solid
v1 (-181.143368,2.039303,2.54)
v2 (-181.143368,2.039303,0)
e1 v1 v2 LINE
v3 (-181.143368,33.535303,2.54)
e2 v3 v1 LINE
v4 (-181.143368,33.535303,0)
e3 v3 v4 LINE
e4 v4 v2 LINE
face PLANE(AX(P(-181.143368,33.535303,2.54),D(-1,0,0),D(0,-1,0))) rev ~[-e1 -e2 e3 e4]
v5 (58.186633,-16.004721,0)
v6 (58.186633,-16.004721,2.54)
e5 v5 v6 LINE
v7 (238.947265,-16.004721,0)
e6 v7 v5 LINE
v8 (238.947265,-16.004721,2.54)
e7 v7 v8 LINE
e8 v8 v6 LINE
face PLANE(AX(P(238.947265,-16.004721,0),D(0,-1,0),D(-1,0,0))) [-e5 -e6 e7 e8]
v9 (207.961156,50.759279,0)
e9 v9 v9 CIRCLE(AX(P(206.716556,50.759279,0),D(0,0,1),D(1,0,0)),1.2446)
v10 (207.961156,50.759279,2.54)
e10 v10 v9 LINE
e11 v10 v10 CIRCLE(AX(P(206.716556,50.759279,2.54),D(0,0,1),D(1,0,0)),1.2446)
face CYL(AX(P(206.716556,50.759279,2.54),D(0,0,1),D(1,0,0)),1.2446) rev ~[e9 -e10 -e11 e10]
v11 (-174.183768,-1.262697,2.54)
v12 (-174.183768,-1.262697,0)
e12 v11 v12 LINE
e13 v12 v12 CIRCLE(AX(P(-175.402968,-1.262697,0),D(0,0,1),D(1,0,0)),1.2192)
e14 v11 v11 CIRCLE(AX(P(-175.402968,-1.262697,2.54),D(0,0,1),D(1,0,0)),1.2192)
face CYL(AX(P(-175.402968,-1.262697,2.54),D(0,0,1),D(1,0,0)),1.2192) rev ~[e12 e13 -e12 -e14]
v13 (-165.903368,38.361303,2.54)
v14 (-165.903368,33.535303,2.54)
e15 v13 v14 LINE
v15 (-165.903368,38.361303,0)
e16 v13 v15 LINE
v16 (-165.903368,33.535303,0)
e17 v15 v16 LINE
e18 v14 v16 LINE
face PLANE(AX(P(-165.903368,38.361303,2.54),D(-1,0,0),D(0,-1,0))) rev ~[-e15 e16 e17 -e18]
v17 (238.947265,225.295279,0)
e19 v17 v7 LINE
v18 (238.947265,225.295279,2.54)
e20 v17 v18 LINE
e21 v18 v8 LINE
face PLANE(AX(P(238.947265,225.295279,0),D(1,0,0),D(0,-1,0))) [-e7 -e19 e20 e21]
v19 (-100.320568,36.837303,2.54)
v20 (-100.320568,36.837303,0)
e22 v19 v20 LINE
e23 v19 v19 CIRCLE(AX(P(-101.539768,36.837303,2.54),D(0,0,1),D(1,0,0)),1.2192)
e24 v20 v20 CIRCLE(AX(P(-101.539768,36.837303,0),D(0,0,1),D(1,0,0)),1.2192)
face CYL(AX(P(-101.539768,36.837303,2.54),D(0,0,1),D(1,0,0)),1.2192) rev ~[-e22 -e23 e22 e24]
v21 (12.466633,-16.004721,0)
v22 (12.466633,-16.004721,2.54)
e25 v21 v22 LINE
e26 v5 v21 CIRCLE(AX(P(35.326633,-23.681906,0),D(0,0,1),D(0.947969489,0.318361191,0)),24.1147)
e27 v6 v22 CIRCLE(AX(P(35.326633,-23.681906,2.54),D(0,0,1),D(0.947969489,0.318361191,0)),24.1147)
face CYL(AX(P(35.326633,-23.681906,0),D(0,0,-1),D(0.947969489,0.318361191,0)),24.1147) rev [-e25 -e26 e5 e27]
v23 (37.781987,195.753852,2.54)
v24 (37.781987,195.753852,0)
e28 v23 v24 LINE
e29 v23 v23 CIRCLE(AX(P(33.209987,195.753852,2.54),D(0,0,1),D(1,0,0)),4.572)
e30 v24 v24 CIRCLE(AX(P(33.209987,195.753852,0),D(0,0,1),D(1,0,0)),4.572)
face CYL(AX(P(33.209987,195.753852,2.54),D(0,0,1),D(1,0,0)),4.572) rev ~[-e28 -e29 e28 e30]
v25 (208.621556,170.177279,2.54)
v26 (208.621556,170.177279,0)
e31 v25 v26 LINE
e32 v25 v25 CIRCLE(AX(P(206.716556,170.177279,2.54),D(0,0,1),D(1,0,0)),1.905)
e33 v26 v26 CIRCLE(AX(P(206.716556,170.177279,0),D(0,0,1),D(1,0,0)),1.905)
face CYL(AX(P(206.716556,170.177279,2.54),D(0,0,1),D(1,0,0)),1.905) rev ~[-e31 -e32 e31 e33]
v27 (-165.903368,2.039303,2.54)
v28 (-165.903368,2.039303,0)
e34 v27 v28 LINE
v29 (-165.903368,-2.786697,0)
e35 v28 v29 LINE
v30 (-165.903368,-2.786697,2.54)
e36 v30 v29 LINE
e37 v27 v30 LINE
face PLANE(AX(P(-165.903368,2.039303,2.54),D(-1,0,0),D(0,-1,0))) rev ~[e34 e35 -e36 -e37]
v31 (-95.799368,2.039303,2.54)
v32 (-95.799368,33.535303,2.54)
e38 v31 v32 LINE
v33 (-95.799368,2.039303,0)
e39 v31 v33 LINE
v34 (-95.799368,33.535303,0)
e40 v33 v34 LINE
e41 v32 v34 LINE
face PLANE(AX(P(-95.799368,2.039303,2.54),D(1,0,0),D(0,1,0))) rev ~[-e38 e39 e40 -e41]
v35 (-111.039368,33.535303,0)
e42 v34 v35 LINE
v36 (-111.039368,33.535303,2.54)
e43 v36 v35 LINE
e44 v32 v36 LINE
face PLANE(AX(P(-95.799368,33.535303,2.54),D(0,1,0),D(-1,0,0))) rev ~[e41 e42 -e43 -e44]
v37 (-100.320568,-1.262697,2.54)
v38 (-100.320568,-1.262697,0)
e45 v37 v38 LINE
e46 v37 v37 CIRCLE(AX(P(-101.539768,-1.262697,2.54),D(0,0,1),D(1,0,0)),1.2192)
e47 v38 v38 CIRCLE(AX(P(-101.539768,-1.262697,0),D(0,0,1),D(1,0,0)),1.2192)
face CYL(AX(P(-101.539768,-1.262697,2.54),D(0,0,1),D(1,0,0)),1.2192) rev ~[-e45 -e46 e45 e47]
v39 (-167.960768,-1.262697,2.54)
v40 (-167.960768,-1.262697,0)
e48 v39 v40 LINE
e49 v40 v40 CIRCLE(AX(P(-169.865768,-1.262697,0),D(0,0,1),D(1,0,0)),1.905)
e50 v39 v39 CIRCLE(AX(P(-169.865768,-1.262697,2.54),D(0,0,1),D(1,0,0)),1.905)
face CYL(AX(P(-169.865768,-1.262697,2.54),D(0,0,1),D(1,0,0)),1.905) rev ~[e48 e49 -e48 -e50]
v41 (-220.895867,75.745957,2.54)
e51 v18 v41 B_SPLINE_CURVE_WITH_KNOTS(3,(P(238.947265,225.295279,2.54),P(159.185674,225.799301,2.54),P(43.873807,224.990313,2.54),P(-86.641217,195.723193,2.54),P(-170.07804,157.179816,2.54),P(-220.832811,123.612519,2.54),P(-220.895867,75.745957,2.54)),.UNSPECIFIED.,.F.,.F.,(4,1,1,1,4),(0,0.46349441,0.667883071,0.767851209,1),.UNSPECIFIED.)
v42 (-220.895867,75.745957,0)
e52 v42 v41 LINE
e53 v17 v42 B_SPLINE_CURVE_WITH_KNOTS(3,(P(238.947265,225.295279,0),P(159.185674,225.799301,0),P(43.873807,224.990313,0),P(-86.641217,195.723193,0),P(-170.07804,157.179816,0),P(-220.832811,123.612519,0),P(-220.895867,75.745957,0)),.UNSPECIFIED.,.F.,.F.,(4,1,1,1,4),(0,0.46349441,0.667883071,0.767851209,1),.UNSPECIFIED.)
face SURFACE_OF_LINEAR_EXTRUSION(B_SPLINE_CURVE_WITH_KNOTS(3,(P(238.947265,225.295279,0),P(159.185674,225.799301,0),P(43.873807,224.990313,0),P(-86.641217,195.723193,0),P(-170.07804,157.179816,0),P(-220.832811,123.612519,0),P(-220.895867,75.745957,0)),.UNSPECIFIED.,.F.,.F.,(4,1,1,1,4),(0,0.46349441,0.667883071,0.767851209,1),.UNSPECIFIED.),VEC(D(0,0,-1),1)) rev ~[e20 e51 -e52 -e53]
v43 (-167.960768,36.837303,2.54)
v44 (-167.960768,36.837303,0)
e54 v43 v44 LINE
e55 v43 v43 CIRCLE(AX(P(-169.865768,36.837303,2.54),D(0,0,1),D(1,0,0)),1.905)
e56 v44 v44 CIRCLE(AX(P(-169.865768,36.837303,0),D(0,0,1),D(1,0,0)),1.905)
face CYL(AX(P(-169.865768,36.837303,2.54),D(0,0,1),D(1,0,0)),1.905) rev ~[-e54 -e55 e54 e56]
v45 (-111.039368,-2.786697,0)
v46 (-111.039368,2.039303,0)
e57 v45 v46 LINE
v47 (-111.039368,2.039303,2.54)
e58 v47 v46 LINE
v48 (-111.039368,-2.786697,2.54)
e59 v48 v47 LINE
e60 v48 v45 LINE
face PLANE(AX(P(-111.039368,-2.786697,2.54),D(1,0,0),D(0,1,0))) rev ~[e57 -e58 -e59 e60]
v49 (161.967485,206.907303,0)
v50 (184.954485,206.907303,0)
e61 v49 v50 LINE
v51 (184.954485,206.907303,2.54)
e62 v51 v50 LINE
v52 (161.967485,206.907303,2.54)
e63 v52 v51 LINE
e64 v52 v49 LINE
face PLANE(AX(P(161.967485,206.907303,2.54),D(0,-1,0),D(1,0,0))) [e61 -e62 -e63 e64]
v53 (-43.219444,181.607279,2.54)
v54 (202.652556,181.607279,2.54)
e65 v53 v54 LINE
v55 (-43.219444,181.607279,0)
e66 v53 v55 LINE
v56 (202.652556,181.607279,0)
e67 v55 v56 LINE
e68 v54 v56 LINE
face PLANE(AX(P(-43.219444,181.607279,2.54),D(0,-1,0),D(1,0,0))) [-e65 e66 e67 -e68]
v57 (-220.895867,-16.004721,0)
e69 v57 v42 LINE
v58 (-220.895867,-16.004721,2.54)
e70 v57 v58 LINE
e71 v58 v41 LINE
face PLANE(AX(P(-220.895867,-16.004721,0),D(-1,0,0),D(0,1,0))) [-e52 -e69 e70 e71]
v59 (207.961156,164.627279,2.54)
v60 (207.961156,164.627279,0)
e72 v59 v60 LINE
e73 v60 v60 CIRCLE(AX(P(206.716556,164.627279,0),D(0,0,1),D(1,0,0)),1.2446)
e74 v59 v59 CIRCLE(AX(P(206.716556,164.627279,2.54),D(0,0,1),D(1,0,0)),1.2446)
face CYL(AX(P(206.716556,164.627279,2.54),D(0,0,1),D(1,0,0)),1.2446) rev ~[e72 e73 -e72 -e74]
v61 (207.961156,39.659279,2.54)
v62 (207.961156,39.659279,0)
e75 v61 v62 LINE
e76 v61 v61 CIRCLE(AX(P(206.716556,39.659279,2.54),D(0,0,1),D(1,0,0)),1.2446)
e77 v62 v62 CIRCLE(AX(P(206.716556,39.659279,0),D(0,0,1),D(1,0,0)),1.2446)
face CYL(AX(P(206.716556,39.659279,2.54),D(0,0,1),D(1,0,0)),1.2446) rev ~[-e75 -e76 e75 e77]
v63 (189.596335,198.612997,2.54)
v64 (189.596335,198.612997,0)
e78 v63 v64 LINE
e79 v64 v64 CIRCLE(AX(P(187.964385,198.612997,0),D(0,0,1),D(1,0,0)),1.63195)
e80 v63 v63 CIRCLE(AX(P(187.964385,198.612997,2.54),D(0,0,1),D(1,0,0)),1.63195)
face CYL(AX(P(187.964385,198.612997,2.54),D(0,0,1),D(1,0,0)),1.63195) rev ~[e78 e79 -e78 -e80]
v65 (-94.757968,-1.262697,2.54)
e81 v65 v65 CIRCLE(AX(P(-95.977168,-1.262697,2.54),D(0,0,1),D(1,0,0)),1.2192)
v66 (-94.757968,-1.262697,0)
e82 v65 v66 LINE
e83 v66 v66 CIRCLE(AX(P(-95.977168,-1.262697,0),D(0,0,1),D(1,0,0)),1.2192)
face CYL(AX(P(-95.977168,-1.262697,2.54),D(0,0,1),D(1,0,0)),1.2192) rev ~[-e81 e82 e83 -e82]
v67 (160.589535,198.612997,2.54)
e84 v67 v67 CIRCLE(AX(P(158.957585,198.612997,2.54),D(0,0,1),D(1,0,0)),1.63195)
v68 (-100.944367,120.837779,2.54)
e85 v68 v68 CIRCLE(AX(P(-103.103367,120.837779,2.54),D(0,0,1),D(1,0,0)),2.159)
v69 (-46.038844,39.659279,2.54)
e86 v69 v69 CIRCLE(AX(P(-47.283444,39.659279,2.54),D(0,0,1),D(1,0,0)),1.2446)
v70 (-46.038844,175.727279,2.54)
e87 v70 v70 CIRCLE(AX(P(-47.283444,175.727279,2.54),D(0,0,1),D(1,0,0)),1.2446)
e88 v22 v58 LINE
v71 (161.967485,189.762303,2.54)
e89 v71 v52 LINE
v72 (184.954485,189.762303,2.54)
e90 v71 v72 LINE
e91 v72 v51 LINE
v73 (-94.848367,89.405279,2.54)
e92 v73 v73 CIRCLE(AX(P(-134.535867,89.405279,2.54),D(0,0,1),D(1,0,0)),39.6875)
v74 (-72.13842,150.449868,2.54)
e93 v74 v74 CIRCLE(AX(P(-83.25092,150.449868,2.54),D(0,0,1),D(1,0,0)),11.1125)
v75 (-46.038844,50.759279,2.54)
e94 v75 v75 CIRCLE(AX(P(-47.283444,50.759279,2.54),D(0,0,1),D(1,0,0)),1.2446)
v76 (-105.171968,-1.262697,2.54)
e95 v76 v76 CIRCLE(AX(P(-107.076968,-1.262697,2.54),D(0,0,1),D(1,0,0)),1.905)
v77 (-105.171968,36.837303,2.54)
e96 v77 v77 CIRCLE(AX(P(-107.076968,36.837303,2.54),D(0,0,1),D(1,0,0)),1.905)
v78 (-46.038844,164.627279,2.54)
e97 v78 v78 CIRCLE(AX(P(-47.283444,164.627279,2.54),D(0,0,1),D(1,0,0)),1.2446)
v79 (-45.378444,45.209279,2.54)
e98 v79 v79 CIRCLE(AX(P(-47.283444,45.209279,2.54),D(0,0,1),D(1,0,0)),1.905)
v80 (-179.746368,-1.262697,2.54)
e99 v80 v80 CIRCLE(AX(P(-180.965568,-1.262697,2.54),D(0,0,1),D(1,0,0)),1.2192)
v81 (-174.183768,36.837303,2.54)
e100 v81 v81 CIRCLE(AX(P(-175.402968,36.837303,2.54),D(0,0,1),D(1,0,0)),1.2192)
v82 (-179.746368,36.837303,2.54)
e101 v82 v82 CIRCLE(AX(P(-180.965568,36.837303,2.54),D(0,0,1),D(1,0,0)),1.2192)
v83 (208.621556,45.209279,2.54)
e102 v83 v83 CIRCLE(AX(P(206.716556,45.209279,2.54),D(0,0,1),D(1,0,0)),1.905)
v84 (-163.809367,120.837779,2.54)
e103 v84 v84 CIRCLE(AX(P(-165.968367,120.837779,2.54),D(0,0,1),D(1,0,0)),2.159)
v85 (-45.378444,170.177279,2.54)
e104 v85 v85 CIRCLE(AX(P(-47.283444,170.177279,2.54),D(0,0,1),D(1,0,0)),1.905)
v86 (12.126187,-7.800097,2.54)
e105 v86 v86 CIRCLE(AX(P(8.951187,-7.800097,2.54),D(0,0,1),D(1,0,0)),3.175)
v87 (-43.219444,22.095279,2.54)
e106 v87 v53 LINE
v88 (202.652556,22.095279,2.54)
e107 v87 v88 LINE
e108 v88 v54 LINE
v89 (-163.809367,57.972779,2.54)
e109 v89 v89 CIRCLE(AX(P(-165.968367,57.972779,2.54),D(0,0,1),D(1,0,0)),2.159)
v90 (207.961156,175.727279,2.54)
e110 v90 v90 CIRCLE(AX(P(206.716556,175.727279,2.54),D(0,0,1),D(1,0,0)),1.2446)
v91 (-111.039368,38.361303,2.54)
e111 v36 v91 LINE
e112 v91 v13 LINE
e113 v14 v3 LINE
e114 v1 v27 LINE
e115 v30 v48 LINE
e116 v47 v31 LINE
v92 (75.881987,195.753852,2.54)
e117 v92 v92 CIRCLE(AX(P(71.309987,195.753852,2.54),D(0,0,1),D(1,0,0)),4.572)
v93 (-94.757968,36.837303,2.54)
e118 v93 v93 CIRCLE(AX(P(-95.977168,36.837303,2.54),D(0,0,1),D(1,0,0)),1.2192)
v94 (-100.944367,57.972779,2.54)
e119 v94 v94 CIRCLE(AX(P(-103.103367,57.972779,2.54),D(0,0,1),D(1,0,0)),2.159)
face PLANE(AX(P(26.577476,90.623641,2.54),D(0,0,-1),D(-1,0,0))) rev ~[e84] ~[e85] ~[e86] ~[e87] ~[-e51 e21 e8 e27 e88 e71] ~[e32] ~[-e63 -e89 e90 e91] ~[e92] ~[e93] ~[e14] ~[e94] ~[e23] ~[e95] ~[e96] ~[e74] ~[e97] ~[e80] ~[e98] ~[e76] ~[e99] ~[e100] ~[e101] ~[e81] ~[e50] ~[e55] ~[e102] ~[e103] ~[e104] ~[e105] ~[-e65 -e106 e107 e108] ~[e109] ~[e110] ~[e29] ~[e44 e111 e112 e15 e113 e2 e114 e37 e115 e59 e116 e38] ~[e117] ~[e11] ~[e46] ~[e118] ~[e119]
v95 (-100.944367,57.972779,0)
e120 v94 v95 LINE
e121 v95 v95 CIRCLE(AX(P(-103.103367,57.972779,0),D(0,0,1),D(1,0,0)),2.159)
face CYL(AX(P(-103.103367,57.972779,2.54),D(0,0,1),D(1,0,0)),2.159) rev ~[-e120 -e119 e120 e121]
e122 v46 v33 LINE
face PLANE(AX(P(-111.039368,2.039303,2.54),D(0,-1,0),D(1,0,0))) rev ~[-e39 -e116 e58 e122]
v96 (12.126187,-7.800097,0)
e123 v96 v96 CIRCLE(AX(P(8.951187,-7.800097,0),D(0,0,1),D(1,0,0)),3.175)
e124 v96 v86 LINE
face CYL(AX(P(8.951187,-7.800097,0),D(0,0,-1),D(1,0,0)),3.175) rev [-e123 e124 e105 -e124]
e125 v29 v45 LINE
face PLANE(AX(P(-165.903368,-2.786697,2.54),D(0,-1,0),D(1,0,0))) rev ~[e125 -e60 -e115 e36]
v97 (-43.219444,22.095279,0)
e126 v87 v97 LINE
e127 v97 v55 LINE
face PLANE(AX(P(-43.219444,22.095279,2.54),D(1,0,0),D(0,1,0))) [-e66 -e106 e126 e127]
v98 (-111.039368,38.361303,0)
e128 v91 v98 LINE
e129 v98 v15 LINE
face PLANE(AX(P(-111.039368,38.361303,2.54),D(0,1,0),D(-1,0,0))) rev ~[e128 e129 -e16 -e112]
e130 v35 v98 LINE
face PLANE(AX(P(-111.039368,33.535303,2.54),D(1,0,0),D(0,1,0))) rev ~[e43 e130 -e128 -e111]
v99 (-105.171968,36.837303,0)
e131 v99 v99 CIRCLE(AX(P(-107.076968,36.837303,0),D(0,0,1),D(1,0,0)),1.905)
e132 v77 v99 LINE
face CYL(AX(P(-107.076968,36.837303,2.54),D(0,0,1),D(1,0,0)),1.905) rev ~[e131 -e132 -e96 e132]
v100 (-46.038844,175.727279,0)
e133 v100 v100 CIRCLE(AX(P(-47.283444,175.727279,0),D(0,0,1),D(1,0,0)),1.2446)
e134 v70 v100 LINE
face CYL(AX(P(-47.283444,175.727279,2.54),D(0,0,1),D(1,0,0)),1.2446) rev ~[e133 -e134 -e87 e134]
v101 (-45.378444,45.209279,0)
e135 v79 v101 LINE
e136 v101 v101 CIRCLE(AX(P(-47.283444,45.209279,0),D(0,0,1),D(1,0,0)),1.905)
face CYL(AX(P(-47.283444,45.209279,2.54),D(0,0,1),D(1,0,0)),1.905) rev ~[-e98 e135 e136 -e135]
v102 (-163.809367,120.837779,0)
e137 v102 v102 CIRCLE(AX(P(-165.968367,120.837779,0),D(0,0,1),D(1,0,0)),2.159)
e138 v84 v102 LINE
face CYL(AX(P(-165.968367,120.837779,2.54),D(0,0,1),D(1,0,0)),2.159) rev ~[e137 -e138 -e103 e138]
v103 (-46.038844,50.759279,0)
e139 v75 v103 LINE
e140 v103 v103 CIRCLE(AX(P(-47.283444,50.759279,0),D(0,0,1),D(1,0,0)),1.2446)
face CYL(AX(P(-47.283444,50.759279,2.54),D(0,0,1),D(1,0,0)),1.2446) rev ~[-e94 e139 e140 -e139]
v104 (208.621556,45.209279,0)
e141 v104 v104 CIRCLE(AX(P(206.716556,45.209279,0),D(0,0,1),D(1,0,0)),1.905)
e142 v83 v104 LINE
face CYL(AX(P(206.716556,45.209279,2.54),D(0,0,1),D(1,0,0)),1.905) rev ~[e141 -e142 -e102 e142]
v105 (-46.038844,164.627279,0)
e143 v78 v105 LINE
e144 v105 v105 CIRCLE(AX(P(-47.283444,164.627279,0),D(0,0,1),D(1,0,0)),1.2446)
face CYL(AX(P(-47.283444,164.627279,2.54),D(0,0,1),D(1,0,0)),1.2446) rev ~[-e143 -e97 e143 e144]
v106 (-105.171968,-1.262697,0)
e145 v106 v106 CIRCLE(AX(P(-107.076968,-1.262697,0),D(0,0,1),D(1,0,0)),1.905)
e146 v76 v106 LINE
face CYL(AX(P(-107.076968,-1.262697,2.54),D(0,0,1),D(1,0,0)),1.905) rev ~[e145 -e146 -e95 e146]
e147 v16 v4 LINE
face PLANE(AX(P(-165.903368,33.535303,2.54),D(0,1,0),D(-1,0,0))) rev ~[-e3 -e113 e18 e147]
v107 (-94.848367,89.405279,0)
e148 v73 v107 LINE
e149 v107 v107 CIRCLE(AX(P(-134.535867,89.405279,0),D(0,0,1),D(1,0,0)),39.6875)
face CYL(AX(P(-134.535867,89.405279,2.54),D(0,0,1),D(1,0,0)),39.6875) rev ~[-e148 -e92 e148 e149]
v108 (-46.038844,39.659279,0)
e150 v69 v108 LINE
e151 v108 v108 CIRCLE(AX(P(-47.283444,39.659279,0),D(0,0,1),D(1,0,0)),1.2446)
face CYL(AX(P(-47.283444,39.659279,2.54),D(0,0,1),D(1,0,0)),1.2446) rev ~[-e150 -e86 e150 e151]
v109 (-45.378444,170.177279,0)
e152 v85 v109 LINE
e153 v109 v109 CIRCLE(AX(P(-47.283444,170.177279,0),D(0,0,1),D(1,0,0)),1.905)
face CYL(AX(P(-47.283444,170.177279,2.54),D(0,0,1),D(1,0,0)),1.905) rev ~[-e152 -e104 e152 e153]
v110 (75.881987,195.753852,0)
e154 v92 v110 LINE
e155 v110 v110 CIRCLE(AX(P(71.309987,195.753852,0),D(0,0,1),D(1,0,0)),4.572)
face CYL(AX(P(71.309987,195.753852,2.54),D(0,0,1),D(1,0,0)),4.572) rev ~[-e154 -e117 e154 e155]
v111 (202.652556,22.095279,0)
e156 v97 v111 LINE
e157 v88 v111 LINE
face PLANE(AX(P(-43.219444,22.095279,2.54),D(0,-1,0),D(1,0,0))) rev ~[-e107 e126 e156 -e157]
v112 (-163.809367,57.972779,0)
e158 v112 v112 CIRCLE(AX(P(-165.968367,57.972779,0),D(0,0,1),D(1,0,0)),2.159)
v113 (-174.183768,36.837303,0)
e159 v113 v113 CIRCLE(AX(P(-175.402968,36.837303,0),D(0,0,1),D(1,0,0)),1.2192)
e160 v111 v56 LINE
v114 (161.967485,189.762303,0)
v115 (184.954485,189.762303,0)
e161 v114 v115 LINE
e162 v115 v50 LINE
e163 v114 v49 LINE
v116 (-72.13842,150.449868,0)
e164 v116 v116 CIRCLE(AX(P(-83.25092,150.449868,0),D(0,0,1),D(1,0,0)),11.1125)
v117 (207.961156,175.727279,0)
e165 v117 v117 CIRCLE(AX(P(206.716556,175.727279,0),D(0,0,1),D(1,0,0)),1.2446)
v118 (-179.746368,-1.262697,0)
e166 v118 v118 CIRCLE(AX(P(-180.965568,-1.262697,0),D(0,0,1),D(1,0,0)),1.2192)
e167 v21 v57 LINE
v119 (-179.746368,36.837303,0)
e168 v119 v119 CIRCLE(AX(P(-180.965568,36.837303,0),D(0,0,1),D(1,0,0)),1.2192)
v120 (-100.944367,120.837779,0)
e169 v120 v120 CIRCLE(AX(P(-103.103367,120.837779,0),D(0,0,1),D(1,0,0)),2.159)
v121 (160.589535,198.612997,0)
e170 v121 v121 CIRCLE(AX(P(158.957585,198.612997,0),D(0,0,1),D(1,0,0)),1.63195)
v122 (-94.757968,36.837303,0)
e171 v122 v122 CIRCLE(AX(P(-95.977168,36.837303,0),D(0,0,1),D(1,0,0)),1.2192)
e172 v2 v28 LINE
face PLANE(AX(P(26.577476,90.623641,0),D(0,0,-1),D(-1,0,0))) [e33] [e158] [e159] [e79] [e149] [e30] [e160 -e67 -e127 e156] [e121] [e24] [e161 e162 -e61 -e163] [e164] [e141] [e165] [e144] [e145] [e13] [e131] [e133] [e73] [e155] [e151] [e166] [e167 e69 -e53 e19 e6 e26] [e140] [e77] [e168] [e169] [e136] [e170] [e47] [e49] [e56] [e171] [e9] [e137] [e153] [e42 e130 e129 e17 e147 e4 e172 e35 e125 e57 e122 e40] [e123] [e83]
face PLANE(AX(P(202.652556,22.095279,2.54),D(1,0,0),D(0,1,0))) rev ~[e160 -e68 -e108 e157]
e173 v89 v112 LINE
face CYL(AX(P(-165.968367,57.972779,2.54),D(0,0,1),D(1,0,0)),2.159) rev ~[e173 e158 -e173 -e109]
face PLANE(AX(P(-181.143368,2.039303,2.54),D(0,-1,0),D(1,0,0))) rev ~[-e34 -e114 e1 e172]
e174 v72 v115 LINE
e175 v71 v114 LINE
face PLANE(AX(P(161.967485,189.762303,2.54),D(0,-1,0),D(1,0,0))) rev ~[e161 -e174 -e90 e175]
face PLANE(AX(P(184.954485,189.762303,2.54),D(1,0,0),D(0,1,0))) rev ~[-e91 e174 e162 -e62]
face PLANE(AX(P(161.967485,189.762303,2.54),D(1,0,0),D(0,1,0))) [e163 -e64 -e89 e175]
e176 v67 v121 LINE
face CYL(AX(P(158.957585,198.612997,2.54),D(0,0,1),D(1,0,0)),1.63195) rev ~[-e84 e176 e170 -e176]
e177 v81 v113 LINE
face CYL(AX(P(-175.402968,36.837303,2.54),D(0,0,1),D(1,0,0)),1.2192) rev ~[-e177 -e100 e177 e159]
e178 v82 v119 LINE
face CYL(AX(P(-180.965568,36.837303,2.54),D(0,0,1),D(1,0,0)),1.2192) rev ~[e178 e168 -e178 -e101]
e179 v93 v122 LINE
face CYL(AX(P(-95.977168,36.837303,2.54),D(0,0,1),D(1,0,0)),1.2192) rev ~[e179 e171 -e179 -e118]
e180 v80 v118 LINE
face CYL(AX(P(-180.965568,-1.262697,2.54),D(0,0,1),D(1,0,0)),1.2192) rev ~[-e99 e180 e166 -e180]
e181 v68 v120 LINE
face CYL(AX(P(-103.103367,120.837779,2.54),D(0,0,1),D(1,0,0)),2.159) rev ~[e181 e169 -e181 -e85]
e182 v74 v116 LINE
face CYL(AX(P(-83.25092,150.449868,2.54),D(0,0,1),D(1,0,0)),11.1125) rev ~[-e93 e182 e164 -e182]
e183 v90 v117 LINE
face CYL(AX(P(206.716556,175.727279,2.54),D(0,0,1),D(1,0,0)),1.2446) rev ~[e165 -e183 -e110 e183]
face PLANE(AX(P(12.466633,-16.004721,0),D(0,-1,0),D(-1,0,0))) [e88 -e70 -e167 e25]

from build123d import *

# Parameters (mm, degrees)
SKETCH1_R           = 3.175
BOSS_EXTRUDE1_DEPTH = 2.54
CUTOUTS_R           = 11.1125
CUTOUTS_R_2         = 4.572
CUTOUTS_W           = 22.987
CUTOUTS_H           = 17.145
CUTOUTS_R_3         = 1.63195
CUTOUTS_W_2         = 245.872
CUTOUTS_H_2         = 159.512
CUTOUTS_R_4         = 1.905
CUTOUTS_R_5         = 1.2446
CUTOUTS_R_6         = 1.2192
CUTOUTS_R_7         = 2.159
CUTOUTS_R_8         = 39.6875
CUT_EXTRUDE2_DEPTH  = 2.54


with BuildPart() as part:
    # Sketch1 → Boss-Extrude1 (new body)
    with BuildSketch(Plane.XY):
        with BuildLine():
            Line((12.466633151, -16.004721173), (-220.895866849, -16.004721173))
            Line((-220.895866849, -16.004721173), (-220.895866849, 75.745957455))
            add(Edge.make_bspline(
                [(238.947265279, 225.295278827), (159.185673744, 225.799300987), (43.873806561, 224.990313445), (-86.64121676, 195.723193048), (-170.078039566, 157.179815606), (-220.832811132, 123.612518821), (-220.895866849, 75.745957455)],
                knots=[0, 0, 0, 0, 0.46349441, 0.667883071, 0.767851209, 1, 1, 1, 1], degree=3))
            Line((238.947265279, 225.295278827), (238.947265279, -16.004721173))
            Line((238.947265279, -16.004721173), (58.186633151, -16.004721173))
            ThreePointArc((58.186633151, -16.004721173), (35.326633151, 0.432794328), (12.466633151, -16.004721173))
        make_face()
        with Locations((8.951187051, -7.800096672)):
            Circle(SKETCH1_R, mode=Mode.SUBTRACT)
    extrude(amount=BOSS_EXTRUDE1_DEPTH)

    # Cutouts → Cut-Extrude2 (cut)
    with BuildSketch(Plane.XY.offset(2.54)):
        with Locations((-83.250919967, 150.449868461)):
            Circle(CUTOUTS_R)
        with Locations((33.209986811, 195.753851713)):
            Circle(CUTOUTS_R_2)
        with Locations((71.309986811, 195.753851713)):
            Circle(CUTOUTS_R_2)
        with Locations((173.460984528, 198.334802895)):
            Rectangle(CUTOUTS_W, CUTOUTS_H)
        with Locations((158.957584528, 198.612997235)):
            Circle(CUTOUTS_R_3)
        with Locations((187.964384528, 198.612997235)):
            Circle(CUTOUTS_R_3)
        with Locations((79.716556409, 101.851278827)):
            Rectangle(CUTOUTS_W_2, CUTOUTS_H_2)
        with Locations((-47.283443591, 170.177278827)):
            Circle(CUTOUTS_R_4)
        with Locations((-47.283443591, 164.627278827)):
            Circle(CUTOUTS_R_5)
        with Locations((-47.283443591, 45.209278827)):
            Circle(CUTOUTS_R_4)
        with Locations((-47.283443591, 39.659278827)):
            Circle(CUTOUTS_R_5)
        with Locations((206.716556409, 45.209278827)):
            Circle(CUTOUTS_R_4)
        with Locations((206.716556409, 39.659278827)):
            Circle(CUTOUTS_R_5)
        with Locations((206.716556409, 170.177278827)):
            Circle(CUTOUTS_R_4)
        with Locations((-47.283443591, 175.727278827)):
            Circle(CUTOUTS_R_5)
        with Locations((-47.283443591, 50.759278827)):
            Circle(CUTOUTS_R_5)
        with Locations((206.716556409, 175.727278827)):
            Circle(CUTOUTS_R_5)
        with Locations((206.716556409, 164.627278827)):
            Circle(CUTOUTS_R_5)
        with Locations((206.716556409, 50.759278827)):
            Circle(CUTOUTS_R_5)
        Polygon((-95.799367816, 2.039302847), (-95.799367816, 33.535302847), (-111.039367816, 33.535302847), (-111.039367816, 38.361302847), (-165.903367816, 38.361302847), (-165.903367816, 33.535302847), (-181.143367816, 33.535302847), (-181.143367816, 2.039302847), (-165.903367816, 2.039302847), (-165.903367816, -2.786697153), (-111.039367816, -2.786697153), (-111.039367816, 2.039302847), align=None)
        with Locations((-169.865767816, 36.837302847)):
            Circle(CUTOUTS_R_4)
        with Locations((-107.076967816, -1.262697153)):
            Circle(CUTOUTS_R_4)
        with Locations((-107.076967816, 36.837302847)):
            Circle(CUTOUTS_R_4)
        with Locations((-175.402967816, 36.837302847)):
            Circle(CUTOUTS_R_6)
        with Locations((-180.965567816, 36.837302847)):
            Circle(CUTOUTS_R_6)
        with Locations((-169.865767816, -1.262697153)):
            Circle(CUTOUTS_R_4)
        with Locations((-175.402967816, -1.262697153)):
            Circle(CUTOUTS_R_6)
        with Locations((-180.965567816, -1.262697153)):
            Circle(CUTOUTS_R_6)
        with Locations((-101.539767816, -1.262697153)):
            Circle(CUTOUTS_R_6)
        with Locations((-95.977167816, -1.262697153)):
            Circle(CUTOUTS_R_6)
        with Locations((-101.539767816, 36.837302847)):
            Circle(CUTOUTS_R_6)
        with Locations((-95.977167816, 36.837302847)):
            Circle(CUTOUTS_R_6)
        with Locations((-103.103366849, 57.972778827)):
            Circle(CUTOUTS_R_7)
        with Locations((-134.535866849, 89.405278827)):
            Circle(CUTOUTS_R_8)
        with Locations((-165.968366849, 57.972778827)):
            Circle(CUTOUTS_R_7)
        with Locations((-103.103366849, 120.837778827)):
            Circle(CUTOUTS_R_7)
        with Locations((-165.968366849, 120.837778827)):
            Circle(CUTOUTS_R_7)
    extrude(amount=-CUT_EXTRUDE2_DEPTH, mode=Mode.SUBTRACT)


solid = part.part
